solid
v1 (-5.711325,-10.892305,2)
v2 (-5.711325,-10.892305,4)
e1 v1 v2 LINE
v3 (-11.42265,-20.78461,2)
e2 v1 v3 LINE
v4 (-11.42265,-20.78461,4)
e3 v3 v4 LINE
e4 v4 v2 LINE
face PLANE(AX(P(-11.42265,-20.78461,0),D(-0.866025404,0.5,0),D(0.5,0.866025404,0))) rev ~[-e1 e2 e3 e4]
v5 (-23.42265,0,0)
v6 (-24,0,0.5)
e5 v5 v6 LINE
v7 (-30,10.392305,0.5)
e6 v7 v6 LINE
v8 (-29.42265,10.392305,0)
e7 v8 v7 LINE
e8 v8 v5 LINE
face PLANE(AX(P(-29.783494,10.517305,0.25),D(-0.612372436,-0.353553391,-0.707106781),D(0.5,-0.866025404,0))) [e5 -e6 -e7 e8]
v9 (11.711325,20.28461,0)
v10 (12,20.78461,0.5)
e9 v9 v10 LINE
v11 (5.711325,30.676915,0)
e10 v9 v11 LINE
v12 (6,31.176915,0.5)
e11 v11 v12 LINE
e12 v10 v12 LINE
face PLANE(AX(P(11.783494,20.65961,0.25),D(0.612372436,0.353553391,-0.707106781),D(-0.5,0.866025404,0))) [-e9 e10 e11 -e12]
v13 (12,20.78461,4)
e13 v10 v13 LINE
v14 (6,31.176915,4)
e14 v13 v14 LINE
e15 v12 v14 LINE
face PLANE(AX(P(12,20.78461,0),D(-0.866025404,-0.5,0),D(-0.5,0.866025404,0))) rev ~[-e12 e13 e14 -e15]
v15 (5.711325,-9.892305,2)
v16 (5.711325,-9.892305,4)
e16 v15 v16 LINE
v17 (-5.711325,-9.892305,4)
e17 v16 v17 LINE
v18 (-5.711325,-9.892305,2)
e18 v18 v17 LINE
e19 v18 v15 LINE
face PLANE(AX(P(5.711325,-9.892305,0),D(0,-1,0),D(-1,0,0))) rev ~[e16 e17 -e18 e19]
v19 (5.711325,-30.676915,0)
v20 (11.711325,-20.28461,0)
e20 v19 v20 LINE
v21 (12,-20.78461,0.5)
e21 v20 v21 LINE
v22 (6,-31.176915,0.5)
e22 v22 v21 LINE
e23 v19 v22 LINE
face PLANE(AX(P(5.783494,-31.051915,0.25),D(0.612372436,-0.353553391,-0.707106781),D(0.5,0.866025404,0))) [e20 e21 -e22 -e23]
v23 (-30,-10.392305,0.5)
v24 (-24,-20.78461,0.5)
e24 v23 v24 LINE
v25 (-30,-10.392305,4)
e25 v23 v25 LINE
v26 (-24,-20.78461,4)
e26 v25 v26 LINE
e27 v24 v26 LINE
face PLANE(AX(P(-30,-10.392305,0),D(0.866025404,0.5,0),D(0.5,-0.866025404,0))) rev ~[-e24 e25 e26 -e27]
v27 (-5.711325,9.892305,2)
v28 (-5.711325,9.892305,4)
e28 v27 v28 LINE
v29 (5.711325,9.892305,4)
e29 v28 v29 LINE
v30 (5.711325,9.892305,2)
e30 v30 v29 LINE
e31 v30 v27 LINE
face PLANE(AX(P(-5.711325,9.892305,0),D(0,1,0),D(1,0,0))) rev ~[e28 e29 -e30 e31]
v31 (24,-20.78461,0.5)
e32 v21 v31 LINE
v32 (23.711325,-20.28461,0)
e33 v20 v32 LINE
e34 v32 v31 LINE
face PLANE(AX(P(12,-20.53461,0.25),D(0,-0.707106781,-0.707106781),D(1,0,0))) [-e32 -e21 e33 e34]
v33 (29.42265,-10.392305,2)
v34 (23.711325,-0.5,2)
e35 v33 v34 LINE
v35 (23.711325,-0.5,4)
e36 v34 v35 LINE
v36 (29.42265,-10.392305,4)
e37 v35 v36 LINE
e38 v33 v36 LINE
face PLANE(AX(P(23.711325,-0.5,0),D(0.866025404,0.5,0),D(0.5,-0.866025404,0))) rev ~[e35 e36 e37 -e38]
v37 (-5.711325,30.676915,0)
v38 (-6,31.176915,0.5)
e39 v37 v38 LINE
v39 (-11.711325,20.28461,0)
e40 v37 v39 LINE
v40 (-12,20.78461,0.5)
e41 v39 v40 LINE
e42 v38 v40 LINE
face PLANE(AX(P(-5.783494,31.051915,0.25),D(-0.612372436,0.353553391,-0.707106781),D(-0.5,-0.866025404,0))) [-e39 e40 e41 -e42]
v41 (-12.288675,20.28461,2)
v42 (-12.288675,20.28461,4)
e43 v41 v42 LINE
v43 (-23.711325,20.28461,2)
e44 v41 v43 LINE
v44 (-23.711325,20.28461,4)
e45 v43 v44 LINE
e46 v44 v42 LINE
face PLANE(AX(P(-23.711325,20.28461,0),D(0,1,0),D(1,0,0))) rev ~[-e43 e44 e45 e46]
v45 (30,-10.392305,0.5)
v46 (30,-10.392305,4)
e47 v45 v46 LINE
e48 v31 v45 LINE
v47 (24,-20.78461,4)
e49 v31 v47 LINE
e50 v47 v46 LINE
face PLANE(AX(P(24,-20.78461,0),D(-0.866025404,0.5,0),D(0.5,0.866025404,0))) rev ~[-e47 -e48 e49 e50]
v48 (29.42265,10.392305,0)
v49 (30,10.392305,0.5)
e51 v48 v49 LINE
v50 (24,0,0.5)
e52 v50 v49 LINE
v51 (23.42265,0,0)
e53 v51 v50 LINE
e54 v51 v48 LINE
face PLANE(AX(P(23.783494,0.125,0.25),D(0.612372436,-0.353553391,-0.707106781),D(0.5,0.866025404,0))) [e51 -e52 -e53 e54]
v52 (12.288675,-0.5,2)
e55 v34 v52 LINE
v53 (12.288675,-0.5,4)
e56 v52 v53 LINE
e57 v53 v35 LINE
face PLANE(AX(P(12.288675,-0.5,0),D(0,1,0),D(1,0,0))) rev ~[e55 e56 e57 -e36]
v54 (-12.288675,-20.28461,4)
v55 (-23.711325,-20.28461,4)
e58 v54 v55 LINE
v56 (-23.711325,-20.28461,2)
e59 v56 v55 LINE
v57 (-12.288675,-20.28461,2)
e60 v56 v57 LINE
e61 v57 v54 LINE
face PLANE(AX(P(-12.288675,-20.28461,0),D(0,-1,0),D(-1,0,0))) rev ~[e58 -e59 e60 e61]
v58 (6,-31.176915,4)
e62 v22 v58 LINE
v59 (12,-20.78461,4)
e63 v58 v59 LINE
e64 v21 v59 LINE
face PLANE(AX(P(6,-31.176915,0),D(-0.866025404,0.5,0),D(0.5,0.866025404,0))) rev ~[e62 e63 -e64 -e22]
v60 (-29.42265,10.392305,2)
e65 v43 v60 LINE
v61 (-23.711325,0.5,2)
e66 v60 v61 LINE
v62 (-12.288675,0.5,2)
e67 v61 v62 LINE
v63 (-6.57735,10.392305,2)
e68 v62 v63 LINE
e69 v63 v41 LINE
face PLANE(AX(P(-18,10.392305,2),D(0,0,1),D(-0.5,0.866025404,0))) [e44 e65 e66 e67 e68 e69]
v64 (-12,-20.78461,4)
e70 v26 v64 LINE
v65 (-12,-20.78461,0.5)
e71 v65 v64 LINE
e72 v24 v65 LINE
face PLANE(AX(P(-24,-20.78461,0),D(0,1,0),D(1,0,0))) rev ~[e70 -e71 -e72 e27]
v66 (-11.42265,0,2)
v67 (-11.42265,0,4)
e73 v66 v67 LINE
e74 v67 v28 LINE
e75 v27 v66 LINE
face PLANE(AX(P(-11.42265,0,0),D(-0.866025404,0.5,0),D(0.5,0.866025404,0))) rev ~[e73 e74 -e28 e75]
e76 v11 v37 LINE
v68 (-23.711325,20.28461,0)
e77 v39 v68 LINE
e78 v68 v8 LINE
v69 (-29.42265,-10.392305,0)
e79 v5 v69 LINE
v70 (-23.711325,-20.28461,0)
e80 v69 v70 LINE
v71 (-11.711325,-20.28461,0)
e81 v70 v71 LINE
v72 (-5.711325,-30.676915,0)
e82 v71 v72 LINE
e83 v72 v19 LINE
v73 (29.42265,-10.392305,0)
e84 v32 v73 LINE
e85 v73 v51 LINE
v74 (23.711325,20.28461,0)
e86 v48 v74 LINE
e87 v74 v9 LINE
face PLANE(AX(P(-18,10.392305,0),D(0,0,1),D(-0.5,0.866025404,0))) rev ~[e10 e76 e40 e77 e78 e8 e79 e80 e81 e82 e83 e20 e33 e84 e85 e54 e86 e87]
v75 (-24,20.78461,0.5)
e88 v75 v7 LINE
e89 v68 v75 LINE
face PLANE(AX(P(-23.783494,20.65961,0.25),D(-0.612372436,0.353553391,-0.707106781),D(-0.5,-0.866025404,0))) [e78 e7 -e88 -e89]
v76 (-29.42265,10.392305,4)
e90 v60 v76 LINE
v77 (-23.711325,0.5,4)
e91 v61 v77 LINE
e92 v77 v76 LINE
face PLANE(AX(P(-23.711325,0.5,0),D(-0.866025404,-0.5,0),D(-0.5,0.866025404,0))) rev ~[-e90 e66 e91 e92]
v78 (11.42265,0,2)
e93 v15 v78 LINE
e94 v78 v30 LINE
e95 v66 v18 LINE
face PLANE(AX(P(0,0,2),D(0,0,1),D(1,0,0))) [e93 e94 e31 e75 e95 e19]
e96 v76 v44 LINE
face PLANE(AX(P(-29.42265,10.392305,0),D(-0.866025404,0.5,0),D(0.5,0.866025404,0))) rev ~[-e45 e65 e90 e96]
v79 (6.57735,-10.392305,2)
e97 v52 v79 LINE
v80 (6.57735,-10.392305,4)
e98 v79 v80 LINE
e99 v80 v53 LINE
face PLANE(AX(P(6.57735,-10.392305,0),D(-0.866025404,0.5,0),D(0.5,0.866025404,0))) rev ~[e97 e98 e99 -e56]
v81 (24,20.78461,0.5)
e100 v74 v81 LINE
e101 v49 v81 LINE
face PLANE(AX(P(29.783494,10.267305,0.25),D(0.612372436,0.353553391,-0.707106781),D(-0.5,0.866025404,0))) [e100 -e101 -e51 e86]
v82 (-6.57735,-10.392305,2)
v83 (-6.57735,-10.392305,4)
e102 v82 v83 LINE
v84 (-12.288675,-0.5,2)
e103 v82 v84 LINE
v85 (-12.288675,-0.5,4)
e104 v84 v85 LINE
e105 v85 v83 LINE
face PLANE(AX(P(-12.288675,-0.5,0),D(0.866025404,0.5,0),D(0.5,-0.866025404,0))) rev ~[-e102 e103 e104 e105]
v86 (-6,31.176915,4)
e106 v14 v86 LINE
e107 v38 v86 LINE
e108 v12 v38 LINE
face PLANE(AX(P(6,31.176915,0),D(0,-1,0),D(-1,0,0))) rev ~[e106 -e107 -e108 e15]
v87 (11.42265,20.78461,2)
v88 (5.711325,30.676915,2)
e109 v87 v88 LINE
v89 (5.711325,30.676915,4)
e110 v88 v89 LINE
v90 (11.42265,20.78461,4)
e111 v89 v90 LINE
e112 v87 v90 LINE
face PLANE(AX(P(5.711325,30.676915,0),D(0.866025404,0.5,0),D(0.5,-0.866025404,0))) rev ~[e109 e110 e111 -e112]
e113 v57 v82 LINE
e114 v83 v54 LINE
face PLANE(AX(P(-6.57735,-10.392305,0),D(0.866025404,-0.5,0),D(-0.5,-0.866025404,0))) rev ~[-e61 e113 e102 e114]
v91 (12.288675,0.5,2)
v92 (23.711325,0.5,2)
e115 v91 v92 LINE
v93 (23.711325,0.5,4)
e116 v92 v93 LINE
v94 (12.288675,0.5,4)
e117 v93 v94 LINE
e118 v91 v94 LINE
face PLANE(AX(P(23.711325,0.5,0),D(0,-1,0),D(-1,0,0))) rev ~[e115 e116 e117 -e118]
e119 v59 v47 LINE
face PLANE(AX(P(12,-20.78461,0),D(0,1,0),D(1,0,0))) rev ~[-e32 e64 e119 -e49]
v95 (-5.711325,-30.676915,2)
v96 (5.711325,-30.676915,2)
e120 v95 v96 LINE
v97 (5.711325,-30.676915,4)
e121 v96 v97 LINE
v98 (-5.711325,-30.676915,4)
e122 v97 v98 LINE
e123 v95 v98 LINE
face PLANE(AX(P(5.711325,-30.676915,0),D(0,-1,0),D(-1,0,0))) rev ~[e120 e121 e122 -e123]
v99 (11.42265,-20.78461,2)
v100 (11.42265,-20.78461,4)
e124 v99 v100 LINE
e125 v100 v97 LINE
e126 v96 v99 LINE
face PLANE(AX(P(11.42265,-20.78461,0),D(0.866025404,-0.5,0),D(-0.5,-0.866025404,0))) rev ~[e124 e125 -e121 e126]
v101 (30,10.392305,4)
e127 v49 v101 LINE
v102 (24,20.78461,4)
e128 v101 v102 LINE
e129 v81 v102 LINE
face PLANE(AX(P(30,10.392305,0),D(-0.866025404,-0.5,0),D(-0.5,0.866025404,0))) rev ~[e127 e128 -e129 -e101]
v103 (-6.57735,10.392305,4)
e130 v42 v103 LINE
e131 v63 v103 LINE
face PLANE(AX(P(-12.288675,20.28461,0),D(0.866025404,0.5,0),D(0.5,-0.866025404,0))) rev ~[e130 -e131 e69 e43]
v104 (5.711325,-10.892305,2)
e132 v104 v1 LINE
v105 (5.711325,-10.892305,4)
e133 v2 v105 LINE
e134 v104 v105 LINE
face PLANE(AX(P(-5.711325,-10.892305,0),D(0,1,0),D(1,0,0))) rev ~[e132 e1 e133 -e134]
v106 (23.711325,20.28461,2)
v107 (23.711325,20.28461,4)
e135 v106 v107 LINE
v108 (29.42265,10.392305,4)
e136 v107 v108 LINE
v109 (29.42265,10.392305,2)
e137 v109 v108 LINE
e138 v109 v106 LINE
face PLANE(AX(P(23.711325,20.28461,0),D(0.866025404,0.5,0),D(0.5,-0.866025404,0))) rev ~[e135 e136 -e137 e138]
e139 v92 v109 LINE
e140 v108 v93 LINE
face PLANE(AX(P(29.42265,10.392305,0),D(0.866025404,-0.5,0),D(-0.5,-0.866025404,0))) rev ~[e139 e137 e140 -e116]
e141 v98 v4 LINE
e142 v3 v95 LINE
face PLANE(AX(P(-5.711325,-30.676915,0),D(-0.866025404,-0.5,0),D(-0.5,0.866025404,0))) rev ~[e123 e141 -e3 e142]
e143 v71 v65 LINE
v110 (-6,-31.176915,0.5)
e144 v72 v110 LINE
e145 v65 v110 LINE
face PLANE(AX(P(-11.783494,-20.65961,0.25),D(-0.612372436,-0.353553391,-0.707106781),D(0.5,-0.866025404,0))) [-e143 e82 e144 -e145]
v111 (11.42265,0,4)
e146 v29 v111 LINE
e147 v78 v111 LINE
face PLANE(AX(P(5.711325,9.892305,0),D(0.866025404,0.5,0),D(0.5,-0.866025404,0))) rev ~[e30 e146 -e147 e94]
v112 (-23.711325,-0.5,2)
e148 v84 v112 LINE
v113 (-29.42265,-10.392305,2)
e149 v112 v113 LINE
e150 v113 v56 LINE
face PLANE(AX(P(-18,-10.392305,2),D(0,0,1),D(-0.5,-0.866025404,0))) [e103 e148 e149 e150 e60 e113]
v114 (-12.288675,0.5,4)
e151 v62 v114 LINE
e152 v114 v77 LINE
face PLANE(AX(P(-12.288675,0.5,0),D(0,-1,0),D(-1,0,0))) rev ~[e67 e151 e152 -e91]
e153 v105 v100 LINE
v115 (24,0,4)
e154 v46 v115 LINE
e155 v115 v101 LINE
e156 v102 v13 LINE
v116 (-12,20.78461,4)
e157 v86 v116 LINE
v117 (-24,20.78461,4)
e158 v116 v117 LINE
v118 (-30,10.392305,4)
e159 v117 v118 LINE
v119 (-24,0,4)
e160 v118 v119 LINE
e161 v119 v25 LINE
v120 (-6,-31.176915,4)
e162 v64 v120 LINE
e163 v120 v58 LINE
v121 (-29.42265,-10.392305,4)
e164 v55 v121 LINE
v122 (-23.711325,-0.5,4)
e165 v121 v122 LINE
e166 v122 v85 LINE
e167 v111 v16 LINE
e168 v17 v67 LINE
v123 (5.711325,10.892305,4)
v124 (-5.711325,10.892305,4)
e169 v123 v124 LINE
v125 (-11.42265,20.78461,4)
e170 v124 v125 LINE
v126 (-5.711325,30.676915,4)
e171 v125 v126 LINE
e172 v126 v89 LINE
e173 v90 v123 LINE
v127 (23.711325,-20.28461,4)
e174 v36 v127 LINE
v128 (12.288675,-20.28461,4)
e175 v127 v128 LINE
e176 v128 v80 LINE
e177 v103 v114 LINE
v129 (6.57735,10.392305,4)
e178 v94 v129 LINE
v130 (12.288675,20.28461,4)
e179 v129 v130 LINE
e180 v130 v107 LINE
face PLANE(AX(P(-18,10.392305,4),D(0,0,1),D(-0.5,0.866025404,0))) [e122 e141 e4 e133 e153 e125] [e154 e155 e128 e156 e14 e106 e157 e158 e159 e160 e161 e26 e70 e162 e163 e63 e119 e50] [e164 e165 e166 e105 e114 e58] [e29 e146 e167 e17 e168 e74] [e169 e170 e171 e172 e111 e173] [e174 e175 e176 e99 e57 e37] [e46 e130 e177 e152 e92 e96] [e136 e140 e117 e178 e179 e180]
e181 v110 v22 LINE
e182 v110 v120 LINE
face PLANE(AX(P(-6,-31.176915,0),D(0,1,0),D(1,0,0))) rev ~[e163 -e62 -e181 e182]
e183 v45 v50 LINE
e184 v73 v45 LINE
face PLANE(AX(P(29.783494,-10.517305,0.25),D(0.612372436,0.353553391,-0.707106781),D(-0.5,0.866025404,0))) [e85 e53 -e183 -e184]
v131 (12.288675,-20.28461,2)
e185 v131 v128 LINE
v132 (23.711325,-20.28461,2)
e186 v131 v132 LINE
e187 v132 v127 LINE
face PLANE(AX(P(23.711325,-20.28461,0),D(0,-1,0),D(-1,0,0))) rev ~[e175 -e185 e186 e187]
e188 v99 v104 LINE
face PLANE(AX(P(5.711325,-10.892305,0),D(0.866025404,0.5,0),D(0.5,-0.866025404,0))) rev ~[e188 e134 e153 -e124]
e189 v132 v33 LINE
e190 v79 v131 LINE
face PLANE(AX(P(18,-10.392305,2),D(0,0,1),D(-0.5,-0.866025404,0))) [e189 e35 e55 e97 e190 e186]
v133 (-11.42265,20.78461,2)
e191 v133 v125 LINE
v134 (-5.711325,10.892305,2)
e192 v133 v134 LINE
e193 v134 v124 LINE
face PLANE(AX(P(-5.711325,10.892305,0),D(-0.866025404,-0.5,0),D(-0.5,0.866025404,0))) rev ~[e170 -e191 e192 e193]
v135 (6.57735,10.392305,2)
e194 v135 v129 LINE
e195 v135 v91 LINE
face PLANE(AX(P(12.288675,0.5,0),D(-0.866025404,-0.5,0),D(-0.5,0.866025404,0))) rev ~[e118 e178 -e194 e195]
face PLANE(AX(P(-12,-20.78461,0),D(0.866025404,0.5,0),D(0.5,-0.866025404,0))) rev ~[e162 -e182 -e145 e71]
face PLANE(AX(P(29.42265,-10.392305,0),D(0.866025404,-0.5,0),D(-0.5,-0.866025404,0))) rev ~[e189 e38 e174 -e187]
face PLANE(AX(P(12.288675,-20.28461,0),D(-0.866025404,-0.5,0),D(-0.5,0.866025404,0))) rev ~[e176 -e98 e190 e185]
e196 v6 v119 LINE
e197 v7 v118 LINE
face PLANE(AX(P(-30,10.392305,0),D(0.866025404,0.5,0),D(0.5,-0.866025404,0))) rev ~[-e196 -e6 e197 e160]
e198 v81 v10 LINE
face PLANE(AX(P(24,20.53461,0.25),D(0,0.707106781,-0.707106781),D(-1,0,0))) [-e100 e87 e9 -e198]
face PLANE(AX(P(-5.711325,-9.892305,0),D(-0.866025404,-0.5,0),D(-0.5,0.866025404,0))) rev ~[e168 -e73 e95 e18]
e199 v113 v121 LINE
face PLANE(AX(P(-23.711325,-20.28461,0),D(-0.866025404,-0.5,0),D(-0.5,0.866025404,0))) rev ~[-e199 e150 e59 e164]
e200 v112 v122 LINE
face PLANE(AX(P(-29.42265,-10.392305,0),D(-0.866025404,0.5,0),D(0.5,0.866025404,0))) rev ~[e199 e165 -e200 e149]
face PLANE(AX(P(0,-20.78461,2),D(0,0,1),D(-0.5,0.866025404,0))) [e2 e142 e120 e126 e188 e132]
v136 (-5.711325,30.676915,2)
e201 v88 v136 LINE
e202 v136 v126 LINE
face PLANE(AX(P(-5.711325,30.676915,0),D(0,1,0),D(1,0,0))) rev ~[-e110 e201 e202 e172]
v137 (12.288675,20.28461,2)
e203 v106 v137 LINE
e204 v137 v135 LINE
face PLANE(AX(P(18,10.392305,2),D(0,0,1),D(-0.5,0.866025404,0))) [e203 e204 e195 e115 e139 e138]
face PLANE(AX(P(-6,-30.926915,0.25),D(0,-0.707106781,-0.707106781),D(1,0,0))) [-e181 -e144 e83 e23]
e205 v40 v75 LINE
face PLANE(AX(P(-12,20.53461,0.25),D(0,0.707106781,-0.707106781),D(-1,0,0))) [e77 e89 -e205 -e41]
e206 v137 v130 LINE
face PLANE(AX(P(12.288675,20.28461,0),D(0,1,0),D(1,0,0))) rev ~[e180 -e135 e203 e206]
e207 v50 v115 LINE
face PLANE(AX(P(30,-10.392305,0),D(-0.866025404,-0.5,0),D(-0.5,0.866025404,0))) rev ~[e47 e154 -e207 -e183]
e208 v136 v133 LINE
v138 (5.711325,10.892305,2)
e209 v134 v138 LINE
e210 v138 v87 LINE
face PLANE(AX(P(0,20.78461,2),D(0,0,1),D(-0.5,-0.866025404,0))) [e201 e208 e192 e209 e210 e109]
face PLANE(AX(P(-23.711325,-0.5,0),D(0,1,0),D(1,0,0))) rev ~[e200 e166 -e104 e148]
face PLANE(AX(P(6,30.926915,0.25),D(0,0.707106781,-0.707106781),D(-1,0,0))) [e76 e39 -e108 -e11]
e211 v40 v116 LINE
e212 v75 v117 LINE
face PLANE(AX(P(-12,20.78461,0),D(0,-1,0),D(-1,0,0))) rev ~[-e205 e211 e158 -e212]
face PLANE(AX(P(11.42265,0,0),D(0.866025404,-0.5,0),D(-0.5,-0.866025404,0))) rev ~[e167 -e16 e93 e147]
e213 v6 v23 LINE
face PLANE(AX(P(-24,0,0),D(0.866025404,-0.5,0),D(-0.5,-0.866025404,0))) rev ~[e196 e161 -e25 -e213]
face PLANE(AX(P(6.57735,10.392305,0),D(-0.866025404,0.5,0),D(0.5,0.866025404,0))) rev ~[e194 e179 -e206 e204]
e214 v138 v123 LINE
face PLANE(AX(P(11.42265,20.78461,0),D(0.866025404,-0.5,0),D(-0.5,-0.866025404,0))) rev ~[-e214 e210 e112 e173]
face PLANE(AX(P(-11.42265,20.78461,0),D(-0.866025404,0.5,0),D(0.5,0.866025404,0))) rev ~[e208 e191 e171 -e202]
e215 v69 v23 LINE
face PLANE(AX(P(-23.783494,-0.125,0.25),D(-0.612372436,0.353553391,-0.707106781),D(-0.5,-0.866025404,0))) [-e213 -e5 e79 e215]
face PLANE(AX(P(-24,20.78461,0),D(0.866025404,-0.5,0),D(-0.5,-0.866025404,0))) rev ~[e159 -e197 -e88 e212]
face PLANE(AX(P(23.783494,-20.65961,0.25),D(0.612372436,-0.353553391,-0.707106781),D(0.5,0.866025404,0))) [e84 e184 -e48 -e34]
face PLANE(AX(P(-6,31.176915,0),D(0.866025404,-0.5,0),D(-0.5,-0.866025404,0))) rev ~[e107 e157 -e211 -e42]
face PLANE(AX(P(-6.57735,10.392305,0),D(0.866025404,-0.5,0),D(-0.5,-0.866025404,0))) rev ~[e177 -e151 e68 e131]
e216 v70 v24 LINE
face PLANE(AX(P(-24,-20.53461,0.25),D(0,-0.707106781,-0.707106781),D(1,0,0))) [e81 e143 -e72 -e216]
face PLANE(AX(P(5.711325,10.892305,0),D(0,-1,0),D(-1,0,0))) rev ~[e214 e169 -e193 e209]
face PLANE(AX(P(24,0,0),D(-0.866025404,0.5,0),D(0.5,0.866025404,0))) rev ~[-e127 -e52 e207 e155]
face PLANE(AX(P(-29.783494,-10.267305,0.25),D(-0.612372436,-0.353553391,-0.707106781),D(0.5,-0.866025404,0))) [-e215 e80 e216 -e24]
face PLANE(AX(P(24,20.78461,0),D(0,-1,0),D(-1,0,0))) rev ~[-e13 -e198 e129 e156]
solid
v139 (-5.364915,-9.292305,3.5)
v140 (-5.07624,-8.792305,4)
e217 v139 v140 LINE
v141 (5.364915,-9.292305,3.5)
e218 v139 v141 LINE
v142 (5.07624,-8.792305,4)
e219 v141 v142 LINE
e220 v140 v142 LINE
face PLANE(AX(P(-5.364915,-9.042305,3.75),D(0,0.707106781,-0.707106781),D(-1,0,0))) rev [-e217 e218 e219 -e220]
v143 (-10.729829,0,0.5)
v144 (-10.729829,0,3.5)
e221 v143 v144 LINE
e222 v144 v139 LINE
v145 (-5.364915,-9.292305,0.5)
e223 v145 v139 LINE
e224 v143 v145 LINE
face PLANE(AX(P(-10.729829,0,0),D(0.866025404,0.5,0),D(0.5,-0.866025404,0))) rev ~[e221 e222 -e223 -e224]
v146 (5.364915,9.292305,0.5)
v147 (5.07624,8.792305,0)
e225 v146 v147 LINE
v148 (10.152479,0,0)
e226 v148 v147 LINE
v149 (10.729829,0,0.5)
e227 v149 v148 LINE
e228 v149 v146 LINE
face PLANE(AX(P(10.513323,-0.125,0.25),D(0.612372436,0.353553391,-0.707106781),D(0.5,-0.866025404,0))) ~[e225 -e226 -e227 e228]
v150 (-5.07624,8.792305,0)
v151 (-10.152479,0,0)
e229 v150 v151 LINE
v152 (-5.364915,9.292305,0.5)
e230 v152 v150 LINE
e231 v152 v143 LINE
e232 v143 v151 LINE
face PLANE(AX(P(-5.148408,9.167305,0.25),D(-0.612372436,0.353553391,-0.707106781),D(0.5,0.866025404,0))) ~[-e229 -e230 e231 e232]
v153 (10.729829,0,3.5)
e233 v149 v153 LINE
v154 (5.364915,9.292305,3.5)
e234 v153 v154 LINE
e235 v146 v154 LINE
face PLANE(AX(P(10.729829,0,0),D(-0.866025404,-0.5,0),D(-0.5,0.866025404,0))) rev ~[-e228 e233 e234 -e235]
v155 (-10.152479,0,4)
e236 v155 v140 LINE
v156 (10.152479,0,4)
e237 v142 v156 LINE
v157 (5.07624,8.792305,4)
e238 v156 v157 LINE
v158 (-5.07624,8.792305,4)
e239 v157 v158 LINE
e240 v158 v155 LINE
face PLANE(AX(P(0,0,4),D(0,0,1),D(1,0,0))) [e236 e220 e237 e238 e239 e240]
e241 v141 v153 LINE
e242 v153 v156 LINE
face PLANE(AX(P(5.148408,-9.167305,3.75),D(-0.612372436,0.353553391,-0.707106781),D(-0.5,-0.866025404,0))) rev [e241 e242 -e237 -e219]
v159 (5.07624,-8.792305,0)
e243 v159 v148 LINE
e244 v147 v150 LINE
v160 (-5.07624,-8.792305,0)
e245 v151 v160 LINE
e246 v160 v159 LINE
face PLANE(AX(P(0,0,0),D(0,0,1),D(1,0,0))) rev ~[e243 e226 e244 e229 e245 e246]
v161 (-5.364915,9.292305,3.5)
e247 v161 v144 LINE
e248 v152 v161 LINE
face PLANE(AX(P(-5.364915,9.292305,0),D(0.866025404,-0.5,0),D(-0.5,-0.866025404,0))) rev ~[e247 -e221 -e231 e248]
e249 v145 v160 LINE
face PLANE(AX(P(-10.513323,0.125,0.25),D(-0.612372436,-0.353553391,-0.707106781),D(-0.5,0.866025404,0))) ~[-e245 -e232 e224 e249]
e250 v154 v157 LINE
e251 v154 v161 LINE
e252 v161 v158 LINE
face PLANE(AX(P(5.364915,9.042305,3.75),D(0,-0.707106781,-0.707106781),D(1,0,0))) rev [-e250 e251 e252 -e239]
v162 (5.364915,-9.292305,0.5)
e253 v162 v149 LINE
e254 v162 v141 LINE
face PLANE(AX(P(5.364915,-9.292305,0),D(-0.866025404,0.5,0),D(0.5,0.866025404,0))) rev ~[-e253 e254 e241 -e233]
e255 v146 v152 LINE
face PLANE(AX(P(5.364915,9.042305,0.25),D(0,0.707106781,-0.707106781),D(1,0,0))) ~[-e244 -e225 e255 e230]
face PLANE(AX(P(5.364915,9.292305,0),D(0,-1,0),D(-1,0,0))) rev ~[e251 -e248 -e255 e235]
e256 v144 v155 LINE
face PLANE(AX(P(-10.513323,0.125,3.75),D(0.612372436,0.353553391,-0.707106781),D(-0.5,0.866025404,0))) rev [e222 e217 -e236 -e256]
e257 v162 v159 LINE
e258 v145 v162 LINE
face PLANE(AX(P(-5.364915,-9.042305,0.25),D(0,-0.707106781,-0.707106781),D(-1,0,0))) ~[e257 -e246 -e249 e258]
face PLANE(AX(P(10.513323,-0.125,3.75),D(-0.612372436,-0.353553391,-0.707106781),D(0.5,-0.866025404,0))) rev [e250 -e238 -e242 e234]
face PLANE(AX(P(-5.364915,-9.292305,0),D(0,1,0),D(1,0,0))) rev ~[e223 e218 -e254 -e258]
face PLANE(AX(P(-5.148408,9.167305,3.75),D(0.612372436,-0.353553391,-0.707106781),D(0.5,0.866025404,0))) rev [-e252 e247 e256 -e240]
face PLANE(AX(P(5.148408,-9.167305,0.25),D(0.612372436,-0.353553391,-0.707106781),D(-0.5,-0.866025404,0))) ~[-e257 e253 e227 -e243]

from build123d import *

# Parameters (mm, degrees)
F1_DEPTH = 4
F2_DEPTH = 2
F3_COUNT = 3
F4_COUNT = 3
F5_COUNT = 3
F7_SIZE  = 0.5
F9_DEPTH = 4
F10_SIZE = 0.5


with BuildPart() as f1:
    # F0 (on Top) → F1 (new body)
    with BuildSketch(Plane.XY):
        Polygon((-6, -10.3923048454), (6, -10.3923048454), (12, 0), (6, 10.3923048454), (-6, 10.3923048454), (-12, 0), align=None)
        Polygon((5.7113248654, -9.8923048454), (-5.7113248654, -9.8923048454), (-11.4226497308, 0), (-5.7113248654, 9.8923048454), (5.7113248654, 9.8923048454), (11.4226497308, 0), align=None, mode=Mode.SUBTRACT)
    extrude(amount=F1_DEPTH)

    # F0 (on Top) → F2 (join)
    with BuildSketch(Plane.XY):
        Polygon((-11.4226497308, 0), (-5.7113248654, -9.8923048454), (5.7113248654, -9.8923048454), (11.4226497308, 0), (5.7113248654, 9.8923048454), (-5.7113248654, 9.8923048454), align=None)
    extrude(amount=F2_DEPTH)


with BuildPart() as f3_1:
    # F3: instance of F1
    add(f1.part.rotate(Axis((6, -10.3923048454, 2), (0, 0, -1)), 1 * 360 / F3_COUNT))


with BuildPart() as f3_2:
    # F3: instance of F1
    add(f1.part.rotate(Axis((6, -10.3923048454, 2), (0, 0, -1)), 2 * 360 / F3_COUNT))


with BuildPart() as f4_1:
    # F4: instance of F1
    add(f1.part.rotate(Axis((6, 10.3923048454, 2), (0, 0, -1)), 1 * 360 / F4_COUNT))


with BuildPart() as f4_2:
    # F4: instance of F1
    add(f1.part.rotate(Axis((6, 10.3923048454, 2), (0, 0, -1)), 2 * 360 / F4_COUNT))


with BuildPart() as f5_1:
    # F5: instance of F1
    add(f1.part.rotate(Axis((-12, 0, 2), (0, 0, -1)), 1 * 360 / F5_COUNT))


with BuildPart() as f5_2:
    # F5: instance of F1
    add(f1.part.rotate(Axis((-12, 0, 2), (0, 0, -1)), 2 * 360 / F5_COUNT))


with BuildPart() as f1_1:
    add(f1.part)

    # F6: union F3_1, F4_1, F3_2, F5_1, F4_2, F5_2
    add(f3_1.part)
    add(f4_1.part)
    add(f3_2.part)
    add(f5_1.part)
    add(f4_2.part)
    add(f5_2.part)

    # F7
    f7_edges = [f1_1.edges().sort_by_distance(p)[0] for p in [
        (-27, 15.588457, 0),
        (-27, 5.196152, 0),
        (-27, -5.196152, 0),
        (-27, -15.588457, 0),
        (-18, -20.78461, 0),
        (-9, -25.980762, 0),
        (0, -31.176915, 0),
        (9, -25.980762, 0),
        (18, -20.78461, 0),
        (27, -15.588457, 0),
        (27, -5.196152, 0),
        (27, 5.196152, 0),
        (27, 15.588457, 0),
        (18, 20.78461, 0),
        (9, 25.980762, 0),
        (0, 31.176915, 0),
        (-9, 25.980762, 0),
        (-18, 20.78461, 0),
    ]]
    chamfer(f7_edges, length=F7_SIZE)


with BuildPart() as f9:
    # F8 (on Top) → F9 (new body)
    with BuildSketch(Plane.XY):
        Polygon((-10.7298294078, 0), (-5.3649147039, -9.2923048454), (5.3649147039, -9.2923048454), (10.7298294078, 0), (5.3649147039, 9.2923048454), (-5.3649147039, 9.2923048454), align=None)
    extrude(amount=F9_DEPTH)

    # F10
    f10_edges = [f9.edges().sort_by_distance(p)[0] for p in [
        (-8.047372, -4.646152, 4),
        (0, -9.292305, 4),
        (8.047372, -4.646152, 4),
        (8.047372, 4.646152, 4),
        (0, 9.292305, 4),
        (-8.047372, 4.646152, 4),
        (-8.047372, -4.646152, 0),
        (0, -9.292305, 0),
        (8.047372, -4.646152, 0),
        (8.047372, 4.646152, 0),
        (0, 9.292305, 0),
        (-8.047372, 4.646152, 0),
    ]]
    chamfer(f10_edges, length=F10_SIZE)


solid = Compound([f1_1.part, f9.part])
